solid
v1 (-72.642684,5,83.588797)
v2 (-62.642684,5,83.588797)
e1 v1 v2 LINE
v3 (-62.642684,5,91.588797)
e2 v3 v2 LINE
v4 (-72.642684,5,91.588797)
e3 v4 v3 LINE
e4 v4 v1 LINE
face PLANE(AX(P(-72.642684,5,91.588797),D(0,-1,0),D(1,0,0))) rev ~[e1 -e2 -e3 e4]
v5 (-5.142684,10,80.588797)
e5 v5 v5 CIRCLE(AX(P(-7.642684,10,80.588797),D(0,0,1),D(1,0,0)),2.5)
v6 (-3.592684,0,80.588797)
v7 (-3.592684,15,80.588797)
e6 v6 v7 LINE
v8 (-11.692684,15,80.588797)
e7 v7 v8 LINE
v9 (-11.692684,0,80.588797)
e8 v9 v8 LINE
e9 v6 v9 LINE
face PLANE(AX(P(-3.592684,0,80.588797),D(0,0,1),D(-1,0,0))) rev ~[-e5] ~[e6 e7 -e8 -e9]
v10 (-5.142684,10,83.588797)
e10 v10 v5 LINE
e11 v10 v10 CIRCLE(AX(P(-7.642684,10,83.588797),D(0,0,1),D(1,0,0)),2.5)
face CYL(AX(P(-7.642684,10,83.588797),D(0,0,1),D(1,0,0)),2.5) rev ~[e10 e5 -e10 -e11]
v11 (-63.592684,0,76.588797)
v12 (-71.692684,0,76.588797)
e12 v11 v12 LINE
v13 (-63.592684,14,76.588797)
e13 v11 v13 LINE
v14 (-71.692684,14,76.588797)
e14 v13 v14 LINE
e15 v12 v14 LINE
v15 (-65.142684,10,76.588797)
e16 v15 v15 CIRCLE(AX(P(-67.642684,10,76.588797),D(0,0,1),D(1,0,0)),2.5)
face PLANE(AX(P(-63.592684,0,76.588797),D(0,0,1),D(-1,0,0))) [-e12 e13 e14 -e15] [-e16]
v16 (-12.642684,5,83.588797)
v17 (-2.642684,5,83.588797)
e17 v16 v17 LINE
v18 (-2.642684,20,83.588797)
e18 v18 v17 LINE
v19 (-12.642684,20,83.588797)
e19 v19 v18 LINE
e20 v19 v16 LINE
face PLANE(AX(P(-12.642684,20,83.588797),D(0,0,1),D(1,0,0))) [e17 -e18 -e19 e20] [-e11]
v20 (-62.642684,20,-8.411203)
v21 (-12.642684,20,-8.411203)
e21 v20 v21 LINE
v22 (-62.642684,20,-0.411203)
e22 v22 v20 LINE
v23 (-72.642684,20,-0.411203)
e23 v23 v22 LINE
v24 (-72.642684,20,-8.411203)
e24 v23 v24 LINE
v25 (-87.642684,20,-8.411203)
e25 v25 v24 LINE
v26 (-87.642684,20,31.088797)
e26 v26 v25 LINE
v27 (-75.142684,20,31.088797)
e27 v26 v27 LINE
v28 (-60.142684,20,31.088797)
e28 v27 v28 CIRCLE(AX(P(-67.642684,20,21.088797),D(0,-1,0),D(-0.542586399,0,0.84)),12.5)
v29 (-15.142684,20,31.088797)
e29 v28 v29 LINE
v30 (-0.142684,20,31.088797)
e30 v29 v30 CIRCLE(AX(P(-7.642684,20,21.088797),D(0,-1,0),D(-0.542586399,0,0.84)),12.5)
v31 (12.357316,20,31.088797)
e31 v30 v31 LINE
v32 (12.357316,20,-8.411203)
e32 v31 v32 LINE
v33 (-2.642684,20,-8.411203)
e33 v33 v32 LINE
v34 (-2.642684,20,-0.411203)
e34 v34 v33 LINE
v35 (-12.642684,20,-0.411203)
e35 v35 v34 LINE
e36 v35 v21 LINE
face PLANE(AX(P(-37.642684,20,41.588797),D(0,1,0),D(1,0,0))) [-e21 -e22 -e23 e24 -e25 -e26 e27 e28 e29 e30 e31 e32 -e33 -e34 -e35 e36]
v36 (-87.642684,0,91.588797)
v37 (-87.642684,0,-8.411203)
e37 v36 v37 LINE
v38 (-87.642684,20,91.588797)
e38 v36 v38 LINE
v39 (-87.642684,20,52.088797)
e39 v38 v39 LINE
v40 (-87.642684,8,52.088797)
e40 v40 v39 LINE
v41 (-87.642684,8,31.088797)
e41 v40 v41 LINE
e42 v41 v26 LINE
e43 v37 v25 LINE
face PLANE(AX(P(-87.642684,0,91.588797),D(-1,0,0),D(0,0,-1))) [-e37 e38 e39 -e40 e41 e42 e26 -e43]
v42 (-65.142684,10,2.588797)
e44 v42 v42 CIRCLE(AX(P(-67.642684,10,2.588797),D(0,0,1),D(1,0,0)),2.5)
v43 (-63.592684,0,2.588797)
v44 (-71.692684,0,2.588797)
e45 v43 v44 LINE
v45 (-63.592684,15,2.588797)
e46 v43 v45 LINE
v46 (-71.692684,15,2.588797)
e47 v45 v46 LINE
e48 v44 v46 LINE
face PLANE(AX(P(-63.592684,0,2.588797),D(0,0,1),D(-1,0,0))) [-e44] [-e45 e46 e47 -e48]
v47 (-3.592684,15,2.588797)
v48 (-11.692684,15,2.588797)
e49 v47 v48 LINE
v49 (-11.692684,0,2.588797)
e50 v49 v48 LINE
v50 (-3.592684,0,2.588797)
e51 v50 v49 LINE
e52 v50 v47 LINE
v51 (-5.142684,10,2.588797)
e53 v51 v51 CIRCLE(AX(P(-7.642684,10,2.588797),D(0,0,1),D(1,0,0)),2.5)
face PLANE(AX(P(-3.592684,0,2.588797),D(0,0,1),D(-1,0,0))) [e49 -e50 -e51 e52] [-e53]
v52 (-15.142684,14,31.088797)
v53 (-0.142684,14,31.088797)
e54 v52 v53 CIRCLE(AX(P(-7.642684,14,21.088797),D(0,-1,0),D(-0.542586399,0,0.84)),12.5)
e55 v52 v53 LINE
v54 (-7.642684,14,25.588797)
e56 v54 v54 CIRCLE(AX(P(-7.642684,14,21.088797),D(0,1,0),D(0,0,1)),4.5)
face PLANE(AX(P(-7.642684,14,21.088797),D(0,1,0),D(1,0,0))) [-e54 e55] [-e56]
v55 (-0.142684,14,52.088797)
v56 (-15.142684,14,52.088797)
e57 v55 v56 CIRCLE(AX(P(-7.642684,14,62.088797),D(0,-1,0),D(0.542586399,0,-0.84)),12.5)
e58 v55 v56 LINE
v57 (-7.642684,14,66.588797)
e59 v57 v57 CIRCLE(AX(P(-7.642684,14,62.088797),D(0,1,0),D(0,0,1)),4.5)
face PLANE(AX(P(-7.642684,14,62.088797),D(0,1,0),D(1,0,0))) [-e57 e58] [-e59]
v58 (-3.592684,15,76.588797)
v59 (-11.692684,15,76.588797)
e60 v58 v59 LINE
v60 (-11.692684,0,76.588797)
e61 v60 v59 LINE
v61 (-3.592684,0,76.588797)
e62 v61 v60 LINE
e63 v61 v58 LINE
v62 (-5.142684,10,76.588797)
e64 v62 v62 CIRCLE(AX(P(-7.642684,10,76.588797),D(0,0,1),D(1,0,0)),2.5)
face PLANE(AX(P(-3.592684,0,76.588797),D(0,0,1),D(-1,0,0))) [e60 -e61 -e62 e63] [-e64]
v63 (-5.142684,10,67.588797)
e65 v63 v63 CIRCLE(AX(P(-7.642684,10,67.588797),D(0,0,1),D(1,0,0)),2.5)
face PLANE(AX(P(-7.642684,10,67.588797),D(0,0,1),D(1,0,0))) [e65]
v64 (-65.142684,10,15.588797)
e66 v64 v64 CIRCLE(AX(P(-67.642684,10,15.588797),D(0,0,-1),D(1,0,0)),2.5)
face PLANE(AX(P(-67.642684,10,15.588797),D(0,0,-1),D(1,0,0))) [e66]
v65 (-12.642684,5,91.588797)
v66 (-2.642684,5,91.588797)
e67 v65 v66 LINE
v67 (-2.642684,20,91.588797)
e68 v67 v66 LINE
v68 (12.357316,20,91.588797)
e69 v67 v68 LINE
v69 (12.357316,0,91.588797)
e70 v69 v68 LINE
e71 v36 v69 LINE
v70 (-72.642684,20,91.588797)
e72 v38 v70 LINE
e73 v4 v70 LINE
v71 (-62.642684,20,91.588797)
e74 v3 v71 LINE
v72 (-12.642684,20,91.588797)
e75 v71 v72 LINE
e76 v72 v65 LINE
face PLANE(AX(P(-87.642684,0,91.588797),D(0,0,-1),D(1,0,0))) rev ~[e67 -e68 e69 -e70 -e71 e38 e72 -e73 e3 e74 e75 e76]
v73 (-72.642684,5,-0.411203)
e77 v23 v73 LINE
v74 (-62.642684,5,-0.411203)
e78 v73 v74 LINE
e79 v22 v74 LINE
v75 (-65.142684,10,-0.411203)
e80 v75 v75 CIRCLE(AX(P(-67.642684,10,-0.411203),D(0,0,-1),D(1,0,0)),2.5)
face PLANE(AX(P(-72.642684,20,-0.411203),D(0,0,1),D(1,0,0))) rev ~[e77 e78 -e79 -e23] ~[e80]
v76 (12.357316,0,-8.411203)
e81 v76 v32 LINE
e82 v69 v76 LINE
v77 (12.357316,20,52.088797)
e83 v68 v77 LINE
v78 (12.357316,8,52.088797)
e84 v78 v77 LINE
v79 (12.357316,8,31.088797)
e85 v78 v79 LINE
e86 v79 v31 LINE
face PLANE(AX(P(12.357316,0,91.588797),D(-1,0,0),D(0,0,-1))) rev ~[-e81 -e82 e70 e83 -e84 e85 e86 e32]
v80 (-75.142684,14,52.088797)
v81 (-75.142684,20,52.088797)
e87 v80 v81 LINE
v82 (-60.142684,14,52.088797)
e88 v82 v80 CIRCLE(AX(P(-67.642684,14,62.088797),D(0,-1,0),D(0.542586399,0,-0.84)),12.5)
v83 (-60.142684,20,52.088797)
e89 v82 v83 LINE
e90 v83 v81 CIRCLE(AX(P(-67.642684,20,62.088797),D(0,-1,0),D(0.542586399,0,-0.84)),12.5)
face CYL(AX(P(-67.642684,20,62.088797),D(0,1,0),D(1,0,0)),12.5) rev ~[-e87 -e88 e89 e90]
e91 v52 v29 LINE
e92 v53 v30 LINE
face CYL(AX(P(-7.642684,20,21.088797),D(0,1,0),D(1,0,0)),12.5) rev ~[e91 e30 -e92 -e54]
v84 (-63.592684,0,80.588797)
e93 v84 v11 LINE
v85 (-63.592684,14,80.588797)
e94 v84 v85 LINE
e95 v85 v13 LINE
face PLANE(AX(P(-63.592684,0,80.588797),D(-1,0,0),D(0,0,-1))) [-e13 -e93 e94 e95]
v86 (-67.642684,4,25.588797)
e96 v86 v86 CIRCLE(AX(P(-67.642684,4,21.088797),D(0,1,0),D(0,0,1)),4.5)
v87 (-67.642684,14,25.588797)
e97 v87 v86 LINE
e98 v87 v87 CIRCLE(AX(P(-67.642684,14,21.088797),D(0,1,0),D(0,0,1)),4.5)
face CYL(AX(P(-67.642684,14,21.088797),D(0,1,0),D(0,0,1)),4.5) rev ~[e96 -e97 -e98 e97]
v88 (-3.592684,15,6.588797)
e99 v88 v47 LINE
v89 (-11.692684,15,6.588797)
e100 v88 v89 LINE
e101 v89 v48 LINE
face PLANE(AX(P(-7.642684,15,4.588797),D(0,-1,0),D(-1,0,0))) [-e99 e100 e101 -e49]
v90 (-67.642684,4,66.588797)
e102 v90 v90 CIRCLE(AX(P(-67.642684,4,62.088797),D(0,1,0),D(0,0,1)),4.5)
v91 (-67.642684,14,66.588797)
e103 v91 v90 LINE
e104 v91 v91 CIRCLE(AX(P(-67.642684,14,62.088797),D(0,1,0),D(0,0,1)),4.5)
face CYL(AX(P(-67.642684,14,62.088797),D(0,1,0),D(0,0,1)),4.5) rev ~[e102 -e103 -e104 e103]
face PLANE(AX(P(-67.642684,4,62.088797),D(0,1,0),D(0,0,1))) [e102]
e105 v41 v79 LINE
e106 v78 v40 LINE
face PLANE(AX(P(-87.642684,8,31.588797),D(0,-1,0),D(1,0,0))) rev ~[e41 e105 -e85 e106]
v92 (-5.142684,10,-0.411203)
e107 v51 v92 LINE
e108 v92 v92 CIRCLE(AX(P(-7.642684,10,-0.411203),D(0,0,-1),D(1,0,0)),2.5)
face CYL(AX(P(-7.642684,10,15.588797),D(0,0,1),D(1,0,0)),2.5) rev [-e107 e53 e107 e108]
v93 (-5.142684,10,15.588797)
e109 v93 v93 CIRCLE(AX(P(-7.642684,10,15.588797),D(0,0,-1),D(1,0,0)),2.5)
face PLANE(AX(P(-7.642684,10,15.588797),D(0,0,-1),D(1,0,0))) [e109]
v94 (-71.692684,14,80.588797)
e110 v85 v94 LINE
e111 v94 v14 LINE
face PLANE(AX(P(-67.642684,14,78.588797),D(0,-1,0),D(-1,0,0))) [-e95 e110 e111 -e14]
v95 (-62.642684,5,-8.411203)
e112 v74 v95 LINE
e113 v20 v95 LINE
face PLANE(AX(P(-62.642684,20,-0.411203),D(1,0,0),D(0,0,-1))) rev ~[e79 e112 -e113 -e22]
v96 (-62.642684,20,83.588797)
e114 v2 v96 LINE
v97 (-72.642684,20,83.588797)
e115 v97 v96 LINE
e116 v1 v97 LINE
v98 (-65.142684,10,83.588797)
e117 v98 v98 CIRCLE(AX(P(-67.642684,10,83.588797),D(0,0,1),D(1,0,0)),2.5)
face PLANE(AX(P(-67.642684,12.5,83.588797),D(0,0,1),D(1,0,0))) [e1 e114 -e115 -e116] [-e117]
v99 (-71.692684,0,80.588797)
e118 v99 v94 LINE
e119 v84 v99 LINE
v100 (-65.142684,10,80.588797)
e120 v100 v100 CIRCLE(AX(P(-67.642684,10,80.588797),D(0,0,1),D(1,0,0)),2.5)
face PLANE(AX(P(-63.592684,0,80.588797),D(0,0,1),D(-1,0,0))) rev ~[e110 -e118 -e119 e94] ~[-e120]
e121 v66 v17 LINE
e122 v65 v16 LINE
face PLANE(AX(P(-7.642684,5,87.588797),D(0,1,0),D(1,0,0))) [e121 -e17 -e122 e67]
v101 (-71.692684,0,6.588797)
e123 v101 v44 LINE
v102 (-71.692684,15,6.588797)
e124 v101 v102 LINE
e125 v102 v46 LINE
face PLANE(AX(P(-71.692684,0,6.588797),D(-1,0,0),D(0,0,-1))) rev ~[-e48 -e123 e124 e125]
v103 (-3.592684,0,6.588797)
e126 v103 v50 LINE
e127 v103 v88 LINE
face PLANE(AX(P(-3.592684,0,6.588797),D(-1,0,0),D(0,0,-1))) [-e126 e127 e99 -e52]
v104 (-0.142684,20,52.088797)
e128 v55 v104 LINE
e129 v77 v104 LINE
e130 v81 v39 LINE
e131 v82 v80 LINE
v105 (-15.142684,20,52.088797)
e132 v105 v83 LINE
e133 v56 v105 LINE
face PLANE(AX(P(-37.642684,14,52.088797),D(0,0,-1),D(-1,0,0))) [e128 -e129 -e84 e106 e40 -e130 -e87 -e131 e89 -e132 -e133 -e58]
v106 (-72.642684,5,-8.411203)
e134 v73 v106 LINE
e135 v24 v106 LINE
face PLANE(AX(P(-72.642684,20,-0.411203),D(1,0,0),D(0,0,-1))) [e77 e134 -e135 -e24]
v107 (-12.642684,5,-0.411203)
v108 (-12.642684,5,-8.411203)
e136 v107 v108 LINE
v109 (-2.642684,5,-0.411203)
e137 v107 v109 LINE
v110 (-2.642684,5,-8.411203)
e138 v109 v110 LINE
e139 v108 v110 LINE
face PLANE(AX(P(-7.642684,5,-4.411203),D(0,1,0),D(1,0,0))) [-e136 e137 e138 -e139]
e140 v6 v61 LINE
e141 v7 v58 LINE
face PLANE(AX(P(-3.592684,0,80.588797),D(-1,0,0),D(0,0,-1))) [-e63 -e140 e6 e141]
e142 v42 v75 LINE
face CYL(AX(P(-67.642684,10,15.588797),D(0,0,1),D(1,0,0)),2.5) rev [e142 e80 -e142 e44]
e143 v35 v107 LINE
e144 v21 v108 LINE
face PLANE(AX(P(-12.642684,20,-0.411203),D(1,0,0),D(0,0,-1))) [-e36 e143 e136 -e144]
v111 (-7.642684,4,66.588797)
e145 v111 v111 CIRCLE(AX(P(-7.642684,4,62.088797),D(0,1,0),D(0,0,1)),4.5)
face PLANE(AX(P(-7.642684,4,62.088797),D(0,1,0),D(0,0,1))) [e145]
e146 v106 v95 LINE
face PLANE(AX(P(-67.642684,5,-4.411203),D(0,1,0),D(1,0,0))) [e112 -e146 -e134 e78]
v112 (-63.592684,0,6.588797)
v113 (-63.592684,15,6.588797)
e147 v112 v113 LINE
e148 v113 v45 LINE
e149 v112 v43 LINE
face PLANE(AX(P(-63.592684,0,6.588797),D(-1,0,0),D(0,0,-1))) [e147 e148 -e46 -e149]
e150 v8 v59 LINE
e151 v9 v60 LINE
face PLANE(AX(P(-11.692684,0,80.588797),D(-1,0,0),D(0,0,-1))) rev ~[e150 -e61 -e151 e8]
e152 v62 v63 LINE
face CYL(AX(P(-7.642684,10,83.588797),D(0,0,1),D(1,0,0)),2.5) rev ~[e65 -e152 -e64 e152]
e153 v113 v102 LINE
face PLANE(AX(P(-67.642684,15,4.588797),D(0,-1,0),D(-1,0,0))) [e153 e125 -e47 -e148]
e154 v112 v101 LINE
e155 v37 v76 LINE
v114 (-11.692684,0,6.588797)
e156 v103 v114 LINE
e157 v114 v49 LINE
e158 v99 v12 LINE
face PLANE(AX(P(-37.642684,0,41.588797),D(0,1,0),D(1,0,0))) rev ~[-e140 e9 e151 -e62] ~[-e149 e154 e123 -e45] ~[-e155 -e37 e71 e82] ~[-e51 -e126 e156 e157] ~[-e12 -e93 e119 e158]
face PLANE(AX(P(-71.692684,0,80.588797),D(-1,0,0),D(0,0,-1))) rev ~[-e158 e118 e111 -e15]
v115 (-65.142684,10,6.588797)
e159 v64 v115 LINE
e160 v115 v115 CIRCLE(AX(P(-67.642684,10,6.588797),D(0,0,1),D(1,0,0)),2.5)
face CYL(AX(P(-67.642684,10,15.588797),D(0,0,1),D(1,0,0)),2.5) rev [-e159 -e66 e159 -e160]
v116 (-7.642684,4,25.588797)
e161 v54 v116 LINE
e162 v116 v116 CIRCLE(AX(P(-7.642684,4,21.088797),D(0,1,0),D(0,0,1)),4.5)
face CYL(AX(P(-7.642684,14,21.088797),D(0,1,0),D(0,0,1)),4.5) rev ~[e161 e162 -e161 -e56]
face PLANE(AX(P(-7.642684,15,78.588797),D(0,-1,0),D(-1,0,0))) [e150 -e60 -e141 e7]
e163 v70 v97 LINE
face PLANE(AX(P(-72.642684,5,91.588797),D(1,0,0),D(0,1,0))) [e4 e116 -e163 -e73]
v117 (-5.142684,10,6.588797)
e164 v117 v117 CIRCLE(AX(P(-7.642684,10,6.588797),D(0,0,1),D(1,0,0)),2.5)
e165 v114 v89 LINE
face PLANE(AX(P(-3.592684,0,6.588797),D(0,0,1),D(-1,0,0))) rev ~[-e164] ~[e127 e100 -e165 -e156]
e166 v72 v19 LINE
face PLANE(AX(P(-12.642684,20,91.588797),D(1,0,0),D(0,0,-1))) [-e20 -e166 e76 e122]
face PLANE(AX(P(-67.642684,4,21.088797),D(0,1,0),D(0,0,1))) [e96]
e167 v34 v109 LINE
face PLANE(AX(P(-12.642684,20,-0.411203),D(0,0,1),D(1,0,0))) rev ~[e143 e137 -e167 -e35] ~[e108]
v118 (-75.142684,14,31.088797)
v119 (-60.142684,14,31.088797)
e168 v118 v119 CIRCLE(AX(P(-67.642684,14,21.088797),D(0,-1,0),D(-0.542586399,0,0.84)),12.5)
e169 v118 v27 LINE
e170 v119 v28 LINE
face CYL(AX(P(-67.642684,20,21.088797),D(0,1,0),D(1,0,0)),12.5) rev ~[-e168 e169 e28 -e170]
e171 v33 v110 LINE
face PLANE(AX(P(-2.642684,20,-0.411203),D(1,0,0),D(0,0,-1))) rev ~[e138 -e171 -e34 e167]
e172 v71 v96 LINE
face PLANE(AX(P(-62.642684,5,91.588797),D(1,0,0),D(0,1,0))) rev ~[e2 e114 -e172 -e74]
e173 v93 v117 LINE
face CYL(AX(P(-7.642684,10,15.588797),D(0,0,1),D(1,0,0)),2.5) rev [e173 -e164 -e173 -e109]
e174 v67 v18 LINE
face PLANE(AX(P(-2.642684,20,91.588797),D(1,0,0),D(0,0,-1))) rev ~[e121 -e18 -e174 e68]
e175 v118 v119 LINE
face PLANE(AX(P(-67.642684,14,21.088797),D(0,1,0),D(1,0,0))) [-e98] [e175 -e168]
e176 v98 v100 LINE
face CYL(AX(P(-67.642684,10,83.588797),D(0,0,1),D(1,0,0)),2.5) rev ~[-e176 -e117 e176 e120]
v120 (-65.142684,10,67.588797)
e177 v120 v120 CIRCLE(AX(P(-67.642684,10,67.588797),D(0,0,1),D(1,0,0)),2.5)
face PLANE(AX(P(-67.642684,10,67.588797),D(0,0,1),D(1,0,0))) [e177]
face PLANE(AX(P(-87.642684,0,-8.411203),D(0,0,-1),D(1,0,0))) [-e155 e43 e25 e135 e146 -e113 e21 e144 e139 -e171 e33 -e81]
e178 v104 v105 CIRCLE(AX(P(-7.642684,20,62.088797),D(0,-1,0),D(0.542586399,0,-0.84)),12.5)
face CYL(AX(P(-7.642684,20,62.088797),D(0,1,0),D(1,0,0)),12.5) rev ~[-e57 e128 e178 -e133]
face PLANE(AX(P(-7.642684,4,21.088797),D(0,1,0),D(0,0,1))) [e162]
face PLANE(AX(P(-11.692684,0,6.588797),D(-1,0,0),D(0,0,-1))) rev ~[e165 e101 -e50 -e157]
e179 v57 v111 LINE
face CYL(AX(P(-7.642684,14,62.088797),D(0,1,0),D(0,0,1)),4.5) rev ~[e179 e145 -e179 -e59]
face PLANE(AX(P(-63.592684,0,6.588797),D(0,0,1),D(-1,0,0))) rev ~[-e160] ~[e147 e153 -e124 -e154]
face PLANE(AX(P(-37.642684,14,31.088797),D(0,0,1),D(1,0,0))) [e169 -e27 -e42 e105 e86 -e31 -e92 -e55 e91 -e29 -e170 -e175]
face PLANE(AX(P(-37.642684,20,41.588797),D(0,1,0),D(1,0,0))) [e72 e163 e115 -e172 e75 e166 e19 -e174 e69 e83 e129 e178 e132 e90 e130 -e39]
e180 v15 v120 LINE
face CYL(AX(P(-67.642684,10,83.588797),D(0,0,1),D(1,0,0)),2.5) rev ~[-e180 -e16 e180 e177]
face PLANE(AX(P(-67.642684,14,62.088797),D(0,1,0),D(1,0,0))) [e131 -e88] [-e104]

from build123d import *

# Parameters (mm, degrees)
SKETCH2_W           = 100
SKETCH2_H           = 100
BOSS_EXTRUDE1_DEPTH = 20
SKETCH3_W           = 100
SKETCH3_H           = 20
CUT_EXTRUDE1_DEPTH  = 12
SKETCH5_R           = 12.5
CUT_EXTRUDE2_DEPTH  = 6
SKETCH6_R           = 12.5
CUT_EXTRUDE3_DEPTH  = 6
SKETCH7_R           = 12.5
CUT_EXTRUDE4_DEPTH  = 6
SKETCH8_R           = 12.5
CUT_EXTRUDE5_DEPTH  = 6
SKETCH9_R           = 4.5
CUT_EXTRUDE6_DEPTH  = 10
SKETCH10_R          = 4.5
CUT_EXTRUDE7_DEPTH  = 10
SKETCH11_R          = 4.5
CUT_EXTRUDE8_DEPTH  = 10
SKETCH12_R          = 4.5
CUT_EXTRUDE9_DEPTH  = 10
SKETCH13_W          = 10
SKETCH13_H          = 15
CUT_EXTRUDE11_DEPTH = 8
SKETCH15_R          = 2.5
CUT_EXTRUDE13_DEPTH = 16
SKETCH16_W          = 8.1
SKETCH16_H          = 4
CUT_EXTRUDE14_DEPTH = 14
SKETCH17_W          = 10
SKETCH17_H          = 8
CUT_EXTRUDE16_DEPTH = 15
SKETCH19_R          = 2.5
CUT_EXTRUDE17_DEPTH = 16
SKETCH21_W          = 10
SKETCH21_H          = 8
CUT_EXTRUDE19_DEPTH = 15
SKETCH22_W          = 10
SKETCH22_H          = 8
CUT_EXTRUDE20_DEPTH = 15
CUT_EXTRUDE21_START = -16
SKETCH23_R          = 2.5
CUT_EXTRUDE21_DEPTH = 16
CUT_EXTRUDE22_START = -16
SKETCH24_R          = 2.5
CUT_EXTRUDE22_DEPTH = 16
SKETCH25_W          = 8.1
SKETCH25_H          = 4
CUT_EXTRUDE23_DEPTH = 15
SKETCH26_W          = 8.1
SKETCH26_H          = 4
CUT_EXTRUDE24_DEPTH = 15
SKETCH27_W          = 8.1
SKETCH27_H          = 4
CUT_EXTRUDE25_DEPTH = 15
SKETCH28_W          = 100
SKETCH28_H          = 12
CUT_EXTRUDE26_DEPTH = 0.5
SKETCH29_W          = 100
SKETCH29_H          = 12
CUT_EXTRUDE27_DEPTH = 0.5


with BuildPart() as part:
    # Sketch2 → Boss-Extrude1 (new body)
    with BuildSketch(Plane(origin=(0, 0, 0), x_dir=(1, 0, 0), z_dir=(0, 1, 0))):
        with Locations((-37.64268429, -41.588796838)):
            Rectangle(SKETCH2_W, SKETCH2_H)
    extrude(amount=BOSS_EXTRUDE1_DEPTH)

    # Sketch3 → Cut-Extrude1 (cut)
    with BuildSketch(Plane(origin=(0, 20, 0), x_dir=(1, 0, 0), z_dir=(0, 1, 0))):
        with Locations((-37.64268429, -41.588796838)):
            Rectangle(SKETCH3_W, SKETCH3_H)
    extrude(amount=-CUT_EXTRUDE1_DEPTH, mode=Mode.SUBTRACT)

    # Sketch5 → Cut-Extrude2 (cut)
    with BuildSketch(Plane(origin=(0, 20, 0), x_dir=(1, 0, 0), z_dir=(0, 1, 0))):
        with Locations((-7.64268429, -62.088796838)):
            Circle(SKETCH5_R)
    extrude(amount=-CUT_EXTRUDE2_DEPTH, mode=Mode.SUBTRACT)

    # Sketch6 → Cut-Extrude3 (cut)
    with BuildSketch(Plane(origin=(0, 20, 0), x_dir=(1, 0, 0), z_dir=(0, 1, 0))):
        with Locations((-67.64268429, -62.088796838)):
            Circle(SKETCH6_R)
    extrude(amount=-CUT_EXTRUDE3_DEPTH, mode=Mode.SUBTRACT)

    # Sketch7 → Cut-Extrude4 (cut)
    with BuildSketch(Plane(origin=(0, 20, 0), x_dir=(1, 0, 0), z_dir=(0, 1, 0))):
        with Locations((-67.64268429, -21.088796838)):
            Circle(SKETCH7_R)
    extrude(amount=-CUT_EXTRUDE4_DEPTH, mode=Mode.SUBTRACT)

    # Sketch8 → Cut-Extrude5 (cut)
    with BuildSketch(Plane(origin=(0, 20, 0), x_dir=(1, 0, 0), z_dir=(0, 1, 0))):
        with Locations((-7.64268429, -21.088796838)):
            Circle(SKETCH8_R)
    extrude(amount=-CUT_EXTRUDE5_DEPTH, mode=Mode.SUBTRACT)

    # Sketch9 → Cut-Extrude6 (cut)
    with BuildSketch(Plane(origin=(0, 14, 0), x_dir=(1, 0, 0), z_dir=(0, 1, 0))):
        with Locations(Location((-67.64268429, -21.088796838, 0), (0, 0, 270))):
            Circle(SKETCH9_R)
    extrude(amount=-CUT_EXTRUDE6_DEPTH, mode=Mode.SUBTRACT)

    # Sketch10 → Cut-Extrude7 (cut)
    with BuildSketch(Plane(origin=(0, 14, 0), x_dir=(1, 0, 0), z_dir=(0, 1, 0))):
        with Locations(Location((-7.64268429, -21.088796838, 0), (0, 0, 270))):
            Circle(SKETCH10_R)
    extrude(amount=-CUT_EXTRUDE7_DEPTH, mode=Mode.SUBTRACT)

    # Sketch11 → Cut-Extrude8 (cut)
    with BuildSketch(Plane(origin=(0, 14, 0), x_dir=(1, 0, 0), z_dir=(0, 1, 0))):
        with Locations(Location((-7.64268429, -62.088796838, 0), (0, 0, 270))):
            Circle(SKETCH11_R)
    extrude(amount=-CUT_EXTRUDE8_DEPTH, mode=Mode.SUBTRACT)

    # Sketch12 → Cut-Extrude9 (cut)
    with BuildSketch(Plane(origin=(0, 14, 0), x_dir=(1, 0, 0), z_dir=(0, 1, 0))):
        with Locations(Location((-67.64268429, -62.088796838, 0), (0, 0, 270))):
            Circle(SKETCH12_R)
    extrude(amount=-CUT_EXTRUDE9_DEPTH, mode=Mode.SUBTRACT)

    # Sketch13 → Cut-Extrude11 (cut)
    with BuildSketch(Plane.XY.offset(91.588796838)):
        with Locations((-67.64268429, 12.5)):
            Rectangle(SKETCH13_W, SKETCH13_H)
    extrude(amount=-CUT_EXTRUDE11_DEPTH, mode=Mode.SUBTRACT)

    # Sketch15 → Cut-Extrude13 (cut)
    with BuildSketch(Plane.XY.offset(83.588796838)):
        with Locations((-67.64268429, 10)):
            Circle(SKETCH15_R)
    extrude(amount=-CUT_EXTRUDE13_DEPTH, mode=Mode.SUBTRACT)

    # Sketch16 → Cut-Extrude14 (cut)
    with BuildSketch(Plane(origin=(0, 0, 0), x_dir=(-1, 0, 0), z_dir=(0, -1, 0))):
        with Locations((67.64268429, -78.588796838)):
            Rectangle(SKETCH16_W, SKETCH16_H)
    extrude(amount=-CUT_EXTRUDE14_DEPTH, mode=Mode.SUBTRACT)

    # Sketch17 → Cut-Extrude16 (cut)
    with BuildSketch(Plane(origin=(0, 20, 0), x_dir=(1, 0, 0), z_dir=(0, 1, 0))):
        with Locations((-7.64268429, -87.588796838)):
            Rectangle(SKETCH17_W, SKETCH17_H)
    extrude(amount=-CUT_EXTRUDE16_DEPTH, mode=Mode.SUBTRACT)

    # Sketch19 → Cut-Extrude17 (cut)
    with BuildSketch(Plane.XY.offset(83.588796838)):
        with Locations((-7.64268429, 10)):
            Circle(SKETCH19_R)
    extrude(amount=-CUT_EXTRUDE17_DEPTH, mode=Mode.SUBTRACT)

    # Sketch21 → Cut-Extrude19 (cut)
    with BuildSketch(Plane(origin=(0, 20, 0), x_dir=(1, 0, 0), z_dir=(0, 1, 0))):
        with Locations((-67.64268429, 4.411203162)):
            Rectangle(SKETCH21_W, SKETCH21_H)
    extrude(amount=-CUT_EXTRUDE19_DEPTH, mode=Mode.SUBTRACT)

    # Sketch22 → Cut-Extrude20 (cut)
    with BuildSketch(Plane(origin=(0, 20, 0), x_dir=(1, 0, 0), z_dir=(0, 1, 0))):
        with Locations((-7.64268429, 4.411203162)):
            Rectangle(SKETCH22_W, SKETCH22_H)
    extrude(amount=-CUT_EXTRUDE20_DEPTH, mode=Mode.SUBTRACT)

    # Sketch23 → Cut-Extrude21 (cut)
    with BuildSketch(Plane(origin=(0, 0, -0.411203162), x_dir=(-1, 0, 0), z_dir=(0, 0, -1)).offset(CUT_EXTRUDE21_START)):
        with Locations(Location((7.64268429, 10, 0), (0, 0, 180))):
            Circle(SKETCH23_R)
    extrude(amount=CUT_EXTRUDE21_DEPTH, mode=Mode.SUBTRACT)

    # Sketch24 → Cut-Extrude22 (cut)
    with BuildSketch(Plane(origin=(0, 0, -0.411203162), x_dir=(-1, 0, 0), z_dir=(0, 0, -1)).offset(CUT_EXTRUDE22_START)):
        with Locations(Location((67.64268429, 10, 0), (0, 0, 180))):
            Circle(SKETCH24_R)
    extrude(amount=CUT_EXTRUDE22_DEPTH, mode=Mode.SUBTRACT)

    # Sketch25 → Cut-Extrude23 (cut)
    with BuildSketch(Plane(origin=(0, 0, 0), x_dir=(-1, 0, 0), z_dir=(0, -1, 0))):
        with Locations((7.64268429, -78.588796838)):
            Rectangle(SKETCH25_W, SKETCH25_H)
    extrude(amount=-CUT_EXTRUDE23_DEPTH, mode=Mode.SUBTRACT)

    # Sketch26 → Cut-Extrude24 (cut)
    with BuildSketch(Plane(origin=(0, 0, 0), x_dir=(-1, 0, 0), z_dir=(0, -1, 0))):
        with Locations((7.64268429, -4.588796838)):
            Rectangle(SKETCH26_W, SKETCH26_H)
    extrude(amount=-CUT_EXTRUDE24_DEPTH, mode=Mode.SUBTRACT)

    # Sketch27 → Cut-Extrude25 (cut)
    with BuildSketch(Plane(origin=(0, 0, 0), x_dir=(-1, 0, 0), z_dir=(0, -1, 0))):
        with Locations((67.64268429, -4.588796838)):
            Rectangle(SKETCH27_W, SKETCH27_H)
    extrude(amount=-CUT_EXTRUDE25_DEPTH, mode=Mode.SUBTRACT)

    # Sketch28 → Cut-Extrude26 (cut)
    with BuildSketch(Plane.XY.offset(31.588796838)):
        with Locations((-37.64268429, 14)):
            Rectangle(SKETCH28_W, SKETCH28_H)
    extrude(amount=-CUT_EXTRUDE26_DEPTH, mode=Mode.SUBTRACT)

    # Sketch29 → Cut-Extrude27 (cut)
    with BuildSketch(Plane(origin=(0, 0, 51.588796838), x_dir=(-1, 0, 0), z_dir=(0, 0, -1))):
        with Locations((37.64268429, 14)):
            Rectangle(SKETCH29_W, SKETCH29_H)
    extrude(amount=-CUT_EXTRUDE27_DEPTH, mode=Mode.SUBTRACT)


solid = part.part
